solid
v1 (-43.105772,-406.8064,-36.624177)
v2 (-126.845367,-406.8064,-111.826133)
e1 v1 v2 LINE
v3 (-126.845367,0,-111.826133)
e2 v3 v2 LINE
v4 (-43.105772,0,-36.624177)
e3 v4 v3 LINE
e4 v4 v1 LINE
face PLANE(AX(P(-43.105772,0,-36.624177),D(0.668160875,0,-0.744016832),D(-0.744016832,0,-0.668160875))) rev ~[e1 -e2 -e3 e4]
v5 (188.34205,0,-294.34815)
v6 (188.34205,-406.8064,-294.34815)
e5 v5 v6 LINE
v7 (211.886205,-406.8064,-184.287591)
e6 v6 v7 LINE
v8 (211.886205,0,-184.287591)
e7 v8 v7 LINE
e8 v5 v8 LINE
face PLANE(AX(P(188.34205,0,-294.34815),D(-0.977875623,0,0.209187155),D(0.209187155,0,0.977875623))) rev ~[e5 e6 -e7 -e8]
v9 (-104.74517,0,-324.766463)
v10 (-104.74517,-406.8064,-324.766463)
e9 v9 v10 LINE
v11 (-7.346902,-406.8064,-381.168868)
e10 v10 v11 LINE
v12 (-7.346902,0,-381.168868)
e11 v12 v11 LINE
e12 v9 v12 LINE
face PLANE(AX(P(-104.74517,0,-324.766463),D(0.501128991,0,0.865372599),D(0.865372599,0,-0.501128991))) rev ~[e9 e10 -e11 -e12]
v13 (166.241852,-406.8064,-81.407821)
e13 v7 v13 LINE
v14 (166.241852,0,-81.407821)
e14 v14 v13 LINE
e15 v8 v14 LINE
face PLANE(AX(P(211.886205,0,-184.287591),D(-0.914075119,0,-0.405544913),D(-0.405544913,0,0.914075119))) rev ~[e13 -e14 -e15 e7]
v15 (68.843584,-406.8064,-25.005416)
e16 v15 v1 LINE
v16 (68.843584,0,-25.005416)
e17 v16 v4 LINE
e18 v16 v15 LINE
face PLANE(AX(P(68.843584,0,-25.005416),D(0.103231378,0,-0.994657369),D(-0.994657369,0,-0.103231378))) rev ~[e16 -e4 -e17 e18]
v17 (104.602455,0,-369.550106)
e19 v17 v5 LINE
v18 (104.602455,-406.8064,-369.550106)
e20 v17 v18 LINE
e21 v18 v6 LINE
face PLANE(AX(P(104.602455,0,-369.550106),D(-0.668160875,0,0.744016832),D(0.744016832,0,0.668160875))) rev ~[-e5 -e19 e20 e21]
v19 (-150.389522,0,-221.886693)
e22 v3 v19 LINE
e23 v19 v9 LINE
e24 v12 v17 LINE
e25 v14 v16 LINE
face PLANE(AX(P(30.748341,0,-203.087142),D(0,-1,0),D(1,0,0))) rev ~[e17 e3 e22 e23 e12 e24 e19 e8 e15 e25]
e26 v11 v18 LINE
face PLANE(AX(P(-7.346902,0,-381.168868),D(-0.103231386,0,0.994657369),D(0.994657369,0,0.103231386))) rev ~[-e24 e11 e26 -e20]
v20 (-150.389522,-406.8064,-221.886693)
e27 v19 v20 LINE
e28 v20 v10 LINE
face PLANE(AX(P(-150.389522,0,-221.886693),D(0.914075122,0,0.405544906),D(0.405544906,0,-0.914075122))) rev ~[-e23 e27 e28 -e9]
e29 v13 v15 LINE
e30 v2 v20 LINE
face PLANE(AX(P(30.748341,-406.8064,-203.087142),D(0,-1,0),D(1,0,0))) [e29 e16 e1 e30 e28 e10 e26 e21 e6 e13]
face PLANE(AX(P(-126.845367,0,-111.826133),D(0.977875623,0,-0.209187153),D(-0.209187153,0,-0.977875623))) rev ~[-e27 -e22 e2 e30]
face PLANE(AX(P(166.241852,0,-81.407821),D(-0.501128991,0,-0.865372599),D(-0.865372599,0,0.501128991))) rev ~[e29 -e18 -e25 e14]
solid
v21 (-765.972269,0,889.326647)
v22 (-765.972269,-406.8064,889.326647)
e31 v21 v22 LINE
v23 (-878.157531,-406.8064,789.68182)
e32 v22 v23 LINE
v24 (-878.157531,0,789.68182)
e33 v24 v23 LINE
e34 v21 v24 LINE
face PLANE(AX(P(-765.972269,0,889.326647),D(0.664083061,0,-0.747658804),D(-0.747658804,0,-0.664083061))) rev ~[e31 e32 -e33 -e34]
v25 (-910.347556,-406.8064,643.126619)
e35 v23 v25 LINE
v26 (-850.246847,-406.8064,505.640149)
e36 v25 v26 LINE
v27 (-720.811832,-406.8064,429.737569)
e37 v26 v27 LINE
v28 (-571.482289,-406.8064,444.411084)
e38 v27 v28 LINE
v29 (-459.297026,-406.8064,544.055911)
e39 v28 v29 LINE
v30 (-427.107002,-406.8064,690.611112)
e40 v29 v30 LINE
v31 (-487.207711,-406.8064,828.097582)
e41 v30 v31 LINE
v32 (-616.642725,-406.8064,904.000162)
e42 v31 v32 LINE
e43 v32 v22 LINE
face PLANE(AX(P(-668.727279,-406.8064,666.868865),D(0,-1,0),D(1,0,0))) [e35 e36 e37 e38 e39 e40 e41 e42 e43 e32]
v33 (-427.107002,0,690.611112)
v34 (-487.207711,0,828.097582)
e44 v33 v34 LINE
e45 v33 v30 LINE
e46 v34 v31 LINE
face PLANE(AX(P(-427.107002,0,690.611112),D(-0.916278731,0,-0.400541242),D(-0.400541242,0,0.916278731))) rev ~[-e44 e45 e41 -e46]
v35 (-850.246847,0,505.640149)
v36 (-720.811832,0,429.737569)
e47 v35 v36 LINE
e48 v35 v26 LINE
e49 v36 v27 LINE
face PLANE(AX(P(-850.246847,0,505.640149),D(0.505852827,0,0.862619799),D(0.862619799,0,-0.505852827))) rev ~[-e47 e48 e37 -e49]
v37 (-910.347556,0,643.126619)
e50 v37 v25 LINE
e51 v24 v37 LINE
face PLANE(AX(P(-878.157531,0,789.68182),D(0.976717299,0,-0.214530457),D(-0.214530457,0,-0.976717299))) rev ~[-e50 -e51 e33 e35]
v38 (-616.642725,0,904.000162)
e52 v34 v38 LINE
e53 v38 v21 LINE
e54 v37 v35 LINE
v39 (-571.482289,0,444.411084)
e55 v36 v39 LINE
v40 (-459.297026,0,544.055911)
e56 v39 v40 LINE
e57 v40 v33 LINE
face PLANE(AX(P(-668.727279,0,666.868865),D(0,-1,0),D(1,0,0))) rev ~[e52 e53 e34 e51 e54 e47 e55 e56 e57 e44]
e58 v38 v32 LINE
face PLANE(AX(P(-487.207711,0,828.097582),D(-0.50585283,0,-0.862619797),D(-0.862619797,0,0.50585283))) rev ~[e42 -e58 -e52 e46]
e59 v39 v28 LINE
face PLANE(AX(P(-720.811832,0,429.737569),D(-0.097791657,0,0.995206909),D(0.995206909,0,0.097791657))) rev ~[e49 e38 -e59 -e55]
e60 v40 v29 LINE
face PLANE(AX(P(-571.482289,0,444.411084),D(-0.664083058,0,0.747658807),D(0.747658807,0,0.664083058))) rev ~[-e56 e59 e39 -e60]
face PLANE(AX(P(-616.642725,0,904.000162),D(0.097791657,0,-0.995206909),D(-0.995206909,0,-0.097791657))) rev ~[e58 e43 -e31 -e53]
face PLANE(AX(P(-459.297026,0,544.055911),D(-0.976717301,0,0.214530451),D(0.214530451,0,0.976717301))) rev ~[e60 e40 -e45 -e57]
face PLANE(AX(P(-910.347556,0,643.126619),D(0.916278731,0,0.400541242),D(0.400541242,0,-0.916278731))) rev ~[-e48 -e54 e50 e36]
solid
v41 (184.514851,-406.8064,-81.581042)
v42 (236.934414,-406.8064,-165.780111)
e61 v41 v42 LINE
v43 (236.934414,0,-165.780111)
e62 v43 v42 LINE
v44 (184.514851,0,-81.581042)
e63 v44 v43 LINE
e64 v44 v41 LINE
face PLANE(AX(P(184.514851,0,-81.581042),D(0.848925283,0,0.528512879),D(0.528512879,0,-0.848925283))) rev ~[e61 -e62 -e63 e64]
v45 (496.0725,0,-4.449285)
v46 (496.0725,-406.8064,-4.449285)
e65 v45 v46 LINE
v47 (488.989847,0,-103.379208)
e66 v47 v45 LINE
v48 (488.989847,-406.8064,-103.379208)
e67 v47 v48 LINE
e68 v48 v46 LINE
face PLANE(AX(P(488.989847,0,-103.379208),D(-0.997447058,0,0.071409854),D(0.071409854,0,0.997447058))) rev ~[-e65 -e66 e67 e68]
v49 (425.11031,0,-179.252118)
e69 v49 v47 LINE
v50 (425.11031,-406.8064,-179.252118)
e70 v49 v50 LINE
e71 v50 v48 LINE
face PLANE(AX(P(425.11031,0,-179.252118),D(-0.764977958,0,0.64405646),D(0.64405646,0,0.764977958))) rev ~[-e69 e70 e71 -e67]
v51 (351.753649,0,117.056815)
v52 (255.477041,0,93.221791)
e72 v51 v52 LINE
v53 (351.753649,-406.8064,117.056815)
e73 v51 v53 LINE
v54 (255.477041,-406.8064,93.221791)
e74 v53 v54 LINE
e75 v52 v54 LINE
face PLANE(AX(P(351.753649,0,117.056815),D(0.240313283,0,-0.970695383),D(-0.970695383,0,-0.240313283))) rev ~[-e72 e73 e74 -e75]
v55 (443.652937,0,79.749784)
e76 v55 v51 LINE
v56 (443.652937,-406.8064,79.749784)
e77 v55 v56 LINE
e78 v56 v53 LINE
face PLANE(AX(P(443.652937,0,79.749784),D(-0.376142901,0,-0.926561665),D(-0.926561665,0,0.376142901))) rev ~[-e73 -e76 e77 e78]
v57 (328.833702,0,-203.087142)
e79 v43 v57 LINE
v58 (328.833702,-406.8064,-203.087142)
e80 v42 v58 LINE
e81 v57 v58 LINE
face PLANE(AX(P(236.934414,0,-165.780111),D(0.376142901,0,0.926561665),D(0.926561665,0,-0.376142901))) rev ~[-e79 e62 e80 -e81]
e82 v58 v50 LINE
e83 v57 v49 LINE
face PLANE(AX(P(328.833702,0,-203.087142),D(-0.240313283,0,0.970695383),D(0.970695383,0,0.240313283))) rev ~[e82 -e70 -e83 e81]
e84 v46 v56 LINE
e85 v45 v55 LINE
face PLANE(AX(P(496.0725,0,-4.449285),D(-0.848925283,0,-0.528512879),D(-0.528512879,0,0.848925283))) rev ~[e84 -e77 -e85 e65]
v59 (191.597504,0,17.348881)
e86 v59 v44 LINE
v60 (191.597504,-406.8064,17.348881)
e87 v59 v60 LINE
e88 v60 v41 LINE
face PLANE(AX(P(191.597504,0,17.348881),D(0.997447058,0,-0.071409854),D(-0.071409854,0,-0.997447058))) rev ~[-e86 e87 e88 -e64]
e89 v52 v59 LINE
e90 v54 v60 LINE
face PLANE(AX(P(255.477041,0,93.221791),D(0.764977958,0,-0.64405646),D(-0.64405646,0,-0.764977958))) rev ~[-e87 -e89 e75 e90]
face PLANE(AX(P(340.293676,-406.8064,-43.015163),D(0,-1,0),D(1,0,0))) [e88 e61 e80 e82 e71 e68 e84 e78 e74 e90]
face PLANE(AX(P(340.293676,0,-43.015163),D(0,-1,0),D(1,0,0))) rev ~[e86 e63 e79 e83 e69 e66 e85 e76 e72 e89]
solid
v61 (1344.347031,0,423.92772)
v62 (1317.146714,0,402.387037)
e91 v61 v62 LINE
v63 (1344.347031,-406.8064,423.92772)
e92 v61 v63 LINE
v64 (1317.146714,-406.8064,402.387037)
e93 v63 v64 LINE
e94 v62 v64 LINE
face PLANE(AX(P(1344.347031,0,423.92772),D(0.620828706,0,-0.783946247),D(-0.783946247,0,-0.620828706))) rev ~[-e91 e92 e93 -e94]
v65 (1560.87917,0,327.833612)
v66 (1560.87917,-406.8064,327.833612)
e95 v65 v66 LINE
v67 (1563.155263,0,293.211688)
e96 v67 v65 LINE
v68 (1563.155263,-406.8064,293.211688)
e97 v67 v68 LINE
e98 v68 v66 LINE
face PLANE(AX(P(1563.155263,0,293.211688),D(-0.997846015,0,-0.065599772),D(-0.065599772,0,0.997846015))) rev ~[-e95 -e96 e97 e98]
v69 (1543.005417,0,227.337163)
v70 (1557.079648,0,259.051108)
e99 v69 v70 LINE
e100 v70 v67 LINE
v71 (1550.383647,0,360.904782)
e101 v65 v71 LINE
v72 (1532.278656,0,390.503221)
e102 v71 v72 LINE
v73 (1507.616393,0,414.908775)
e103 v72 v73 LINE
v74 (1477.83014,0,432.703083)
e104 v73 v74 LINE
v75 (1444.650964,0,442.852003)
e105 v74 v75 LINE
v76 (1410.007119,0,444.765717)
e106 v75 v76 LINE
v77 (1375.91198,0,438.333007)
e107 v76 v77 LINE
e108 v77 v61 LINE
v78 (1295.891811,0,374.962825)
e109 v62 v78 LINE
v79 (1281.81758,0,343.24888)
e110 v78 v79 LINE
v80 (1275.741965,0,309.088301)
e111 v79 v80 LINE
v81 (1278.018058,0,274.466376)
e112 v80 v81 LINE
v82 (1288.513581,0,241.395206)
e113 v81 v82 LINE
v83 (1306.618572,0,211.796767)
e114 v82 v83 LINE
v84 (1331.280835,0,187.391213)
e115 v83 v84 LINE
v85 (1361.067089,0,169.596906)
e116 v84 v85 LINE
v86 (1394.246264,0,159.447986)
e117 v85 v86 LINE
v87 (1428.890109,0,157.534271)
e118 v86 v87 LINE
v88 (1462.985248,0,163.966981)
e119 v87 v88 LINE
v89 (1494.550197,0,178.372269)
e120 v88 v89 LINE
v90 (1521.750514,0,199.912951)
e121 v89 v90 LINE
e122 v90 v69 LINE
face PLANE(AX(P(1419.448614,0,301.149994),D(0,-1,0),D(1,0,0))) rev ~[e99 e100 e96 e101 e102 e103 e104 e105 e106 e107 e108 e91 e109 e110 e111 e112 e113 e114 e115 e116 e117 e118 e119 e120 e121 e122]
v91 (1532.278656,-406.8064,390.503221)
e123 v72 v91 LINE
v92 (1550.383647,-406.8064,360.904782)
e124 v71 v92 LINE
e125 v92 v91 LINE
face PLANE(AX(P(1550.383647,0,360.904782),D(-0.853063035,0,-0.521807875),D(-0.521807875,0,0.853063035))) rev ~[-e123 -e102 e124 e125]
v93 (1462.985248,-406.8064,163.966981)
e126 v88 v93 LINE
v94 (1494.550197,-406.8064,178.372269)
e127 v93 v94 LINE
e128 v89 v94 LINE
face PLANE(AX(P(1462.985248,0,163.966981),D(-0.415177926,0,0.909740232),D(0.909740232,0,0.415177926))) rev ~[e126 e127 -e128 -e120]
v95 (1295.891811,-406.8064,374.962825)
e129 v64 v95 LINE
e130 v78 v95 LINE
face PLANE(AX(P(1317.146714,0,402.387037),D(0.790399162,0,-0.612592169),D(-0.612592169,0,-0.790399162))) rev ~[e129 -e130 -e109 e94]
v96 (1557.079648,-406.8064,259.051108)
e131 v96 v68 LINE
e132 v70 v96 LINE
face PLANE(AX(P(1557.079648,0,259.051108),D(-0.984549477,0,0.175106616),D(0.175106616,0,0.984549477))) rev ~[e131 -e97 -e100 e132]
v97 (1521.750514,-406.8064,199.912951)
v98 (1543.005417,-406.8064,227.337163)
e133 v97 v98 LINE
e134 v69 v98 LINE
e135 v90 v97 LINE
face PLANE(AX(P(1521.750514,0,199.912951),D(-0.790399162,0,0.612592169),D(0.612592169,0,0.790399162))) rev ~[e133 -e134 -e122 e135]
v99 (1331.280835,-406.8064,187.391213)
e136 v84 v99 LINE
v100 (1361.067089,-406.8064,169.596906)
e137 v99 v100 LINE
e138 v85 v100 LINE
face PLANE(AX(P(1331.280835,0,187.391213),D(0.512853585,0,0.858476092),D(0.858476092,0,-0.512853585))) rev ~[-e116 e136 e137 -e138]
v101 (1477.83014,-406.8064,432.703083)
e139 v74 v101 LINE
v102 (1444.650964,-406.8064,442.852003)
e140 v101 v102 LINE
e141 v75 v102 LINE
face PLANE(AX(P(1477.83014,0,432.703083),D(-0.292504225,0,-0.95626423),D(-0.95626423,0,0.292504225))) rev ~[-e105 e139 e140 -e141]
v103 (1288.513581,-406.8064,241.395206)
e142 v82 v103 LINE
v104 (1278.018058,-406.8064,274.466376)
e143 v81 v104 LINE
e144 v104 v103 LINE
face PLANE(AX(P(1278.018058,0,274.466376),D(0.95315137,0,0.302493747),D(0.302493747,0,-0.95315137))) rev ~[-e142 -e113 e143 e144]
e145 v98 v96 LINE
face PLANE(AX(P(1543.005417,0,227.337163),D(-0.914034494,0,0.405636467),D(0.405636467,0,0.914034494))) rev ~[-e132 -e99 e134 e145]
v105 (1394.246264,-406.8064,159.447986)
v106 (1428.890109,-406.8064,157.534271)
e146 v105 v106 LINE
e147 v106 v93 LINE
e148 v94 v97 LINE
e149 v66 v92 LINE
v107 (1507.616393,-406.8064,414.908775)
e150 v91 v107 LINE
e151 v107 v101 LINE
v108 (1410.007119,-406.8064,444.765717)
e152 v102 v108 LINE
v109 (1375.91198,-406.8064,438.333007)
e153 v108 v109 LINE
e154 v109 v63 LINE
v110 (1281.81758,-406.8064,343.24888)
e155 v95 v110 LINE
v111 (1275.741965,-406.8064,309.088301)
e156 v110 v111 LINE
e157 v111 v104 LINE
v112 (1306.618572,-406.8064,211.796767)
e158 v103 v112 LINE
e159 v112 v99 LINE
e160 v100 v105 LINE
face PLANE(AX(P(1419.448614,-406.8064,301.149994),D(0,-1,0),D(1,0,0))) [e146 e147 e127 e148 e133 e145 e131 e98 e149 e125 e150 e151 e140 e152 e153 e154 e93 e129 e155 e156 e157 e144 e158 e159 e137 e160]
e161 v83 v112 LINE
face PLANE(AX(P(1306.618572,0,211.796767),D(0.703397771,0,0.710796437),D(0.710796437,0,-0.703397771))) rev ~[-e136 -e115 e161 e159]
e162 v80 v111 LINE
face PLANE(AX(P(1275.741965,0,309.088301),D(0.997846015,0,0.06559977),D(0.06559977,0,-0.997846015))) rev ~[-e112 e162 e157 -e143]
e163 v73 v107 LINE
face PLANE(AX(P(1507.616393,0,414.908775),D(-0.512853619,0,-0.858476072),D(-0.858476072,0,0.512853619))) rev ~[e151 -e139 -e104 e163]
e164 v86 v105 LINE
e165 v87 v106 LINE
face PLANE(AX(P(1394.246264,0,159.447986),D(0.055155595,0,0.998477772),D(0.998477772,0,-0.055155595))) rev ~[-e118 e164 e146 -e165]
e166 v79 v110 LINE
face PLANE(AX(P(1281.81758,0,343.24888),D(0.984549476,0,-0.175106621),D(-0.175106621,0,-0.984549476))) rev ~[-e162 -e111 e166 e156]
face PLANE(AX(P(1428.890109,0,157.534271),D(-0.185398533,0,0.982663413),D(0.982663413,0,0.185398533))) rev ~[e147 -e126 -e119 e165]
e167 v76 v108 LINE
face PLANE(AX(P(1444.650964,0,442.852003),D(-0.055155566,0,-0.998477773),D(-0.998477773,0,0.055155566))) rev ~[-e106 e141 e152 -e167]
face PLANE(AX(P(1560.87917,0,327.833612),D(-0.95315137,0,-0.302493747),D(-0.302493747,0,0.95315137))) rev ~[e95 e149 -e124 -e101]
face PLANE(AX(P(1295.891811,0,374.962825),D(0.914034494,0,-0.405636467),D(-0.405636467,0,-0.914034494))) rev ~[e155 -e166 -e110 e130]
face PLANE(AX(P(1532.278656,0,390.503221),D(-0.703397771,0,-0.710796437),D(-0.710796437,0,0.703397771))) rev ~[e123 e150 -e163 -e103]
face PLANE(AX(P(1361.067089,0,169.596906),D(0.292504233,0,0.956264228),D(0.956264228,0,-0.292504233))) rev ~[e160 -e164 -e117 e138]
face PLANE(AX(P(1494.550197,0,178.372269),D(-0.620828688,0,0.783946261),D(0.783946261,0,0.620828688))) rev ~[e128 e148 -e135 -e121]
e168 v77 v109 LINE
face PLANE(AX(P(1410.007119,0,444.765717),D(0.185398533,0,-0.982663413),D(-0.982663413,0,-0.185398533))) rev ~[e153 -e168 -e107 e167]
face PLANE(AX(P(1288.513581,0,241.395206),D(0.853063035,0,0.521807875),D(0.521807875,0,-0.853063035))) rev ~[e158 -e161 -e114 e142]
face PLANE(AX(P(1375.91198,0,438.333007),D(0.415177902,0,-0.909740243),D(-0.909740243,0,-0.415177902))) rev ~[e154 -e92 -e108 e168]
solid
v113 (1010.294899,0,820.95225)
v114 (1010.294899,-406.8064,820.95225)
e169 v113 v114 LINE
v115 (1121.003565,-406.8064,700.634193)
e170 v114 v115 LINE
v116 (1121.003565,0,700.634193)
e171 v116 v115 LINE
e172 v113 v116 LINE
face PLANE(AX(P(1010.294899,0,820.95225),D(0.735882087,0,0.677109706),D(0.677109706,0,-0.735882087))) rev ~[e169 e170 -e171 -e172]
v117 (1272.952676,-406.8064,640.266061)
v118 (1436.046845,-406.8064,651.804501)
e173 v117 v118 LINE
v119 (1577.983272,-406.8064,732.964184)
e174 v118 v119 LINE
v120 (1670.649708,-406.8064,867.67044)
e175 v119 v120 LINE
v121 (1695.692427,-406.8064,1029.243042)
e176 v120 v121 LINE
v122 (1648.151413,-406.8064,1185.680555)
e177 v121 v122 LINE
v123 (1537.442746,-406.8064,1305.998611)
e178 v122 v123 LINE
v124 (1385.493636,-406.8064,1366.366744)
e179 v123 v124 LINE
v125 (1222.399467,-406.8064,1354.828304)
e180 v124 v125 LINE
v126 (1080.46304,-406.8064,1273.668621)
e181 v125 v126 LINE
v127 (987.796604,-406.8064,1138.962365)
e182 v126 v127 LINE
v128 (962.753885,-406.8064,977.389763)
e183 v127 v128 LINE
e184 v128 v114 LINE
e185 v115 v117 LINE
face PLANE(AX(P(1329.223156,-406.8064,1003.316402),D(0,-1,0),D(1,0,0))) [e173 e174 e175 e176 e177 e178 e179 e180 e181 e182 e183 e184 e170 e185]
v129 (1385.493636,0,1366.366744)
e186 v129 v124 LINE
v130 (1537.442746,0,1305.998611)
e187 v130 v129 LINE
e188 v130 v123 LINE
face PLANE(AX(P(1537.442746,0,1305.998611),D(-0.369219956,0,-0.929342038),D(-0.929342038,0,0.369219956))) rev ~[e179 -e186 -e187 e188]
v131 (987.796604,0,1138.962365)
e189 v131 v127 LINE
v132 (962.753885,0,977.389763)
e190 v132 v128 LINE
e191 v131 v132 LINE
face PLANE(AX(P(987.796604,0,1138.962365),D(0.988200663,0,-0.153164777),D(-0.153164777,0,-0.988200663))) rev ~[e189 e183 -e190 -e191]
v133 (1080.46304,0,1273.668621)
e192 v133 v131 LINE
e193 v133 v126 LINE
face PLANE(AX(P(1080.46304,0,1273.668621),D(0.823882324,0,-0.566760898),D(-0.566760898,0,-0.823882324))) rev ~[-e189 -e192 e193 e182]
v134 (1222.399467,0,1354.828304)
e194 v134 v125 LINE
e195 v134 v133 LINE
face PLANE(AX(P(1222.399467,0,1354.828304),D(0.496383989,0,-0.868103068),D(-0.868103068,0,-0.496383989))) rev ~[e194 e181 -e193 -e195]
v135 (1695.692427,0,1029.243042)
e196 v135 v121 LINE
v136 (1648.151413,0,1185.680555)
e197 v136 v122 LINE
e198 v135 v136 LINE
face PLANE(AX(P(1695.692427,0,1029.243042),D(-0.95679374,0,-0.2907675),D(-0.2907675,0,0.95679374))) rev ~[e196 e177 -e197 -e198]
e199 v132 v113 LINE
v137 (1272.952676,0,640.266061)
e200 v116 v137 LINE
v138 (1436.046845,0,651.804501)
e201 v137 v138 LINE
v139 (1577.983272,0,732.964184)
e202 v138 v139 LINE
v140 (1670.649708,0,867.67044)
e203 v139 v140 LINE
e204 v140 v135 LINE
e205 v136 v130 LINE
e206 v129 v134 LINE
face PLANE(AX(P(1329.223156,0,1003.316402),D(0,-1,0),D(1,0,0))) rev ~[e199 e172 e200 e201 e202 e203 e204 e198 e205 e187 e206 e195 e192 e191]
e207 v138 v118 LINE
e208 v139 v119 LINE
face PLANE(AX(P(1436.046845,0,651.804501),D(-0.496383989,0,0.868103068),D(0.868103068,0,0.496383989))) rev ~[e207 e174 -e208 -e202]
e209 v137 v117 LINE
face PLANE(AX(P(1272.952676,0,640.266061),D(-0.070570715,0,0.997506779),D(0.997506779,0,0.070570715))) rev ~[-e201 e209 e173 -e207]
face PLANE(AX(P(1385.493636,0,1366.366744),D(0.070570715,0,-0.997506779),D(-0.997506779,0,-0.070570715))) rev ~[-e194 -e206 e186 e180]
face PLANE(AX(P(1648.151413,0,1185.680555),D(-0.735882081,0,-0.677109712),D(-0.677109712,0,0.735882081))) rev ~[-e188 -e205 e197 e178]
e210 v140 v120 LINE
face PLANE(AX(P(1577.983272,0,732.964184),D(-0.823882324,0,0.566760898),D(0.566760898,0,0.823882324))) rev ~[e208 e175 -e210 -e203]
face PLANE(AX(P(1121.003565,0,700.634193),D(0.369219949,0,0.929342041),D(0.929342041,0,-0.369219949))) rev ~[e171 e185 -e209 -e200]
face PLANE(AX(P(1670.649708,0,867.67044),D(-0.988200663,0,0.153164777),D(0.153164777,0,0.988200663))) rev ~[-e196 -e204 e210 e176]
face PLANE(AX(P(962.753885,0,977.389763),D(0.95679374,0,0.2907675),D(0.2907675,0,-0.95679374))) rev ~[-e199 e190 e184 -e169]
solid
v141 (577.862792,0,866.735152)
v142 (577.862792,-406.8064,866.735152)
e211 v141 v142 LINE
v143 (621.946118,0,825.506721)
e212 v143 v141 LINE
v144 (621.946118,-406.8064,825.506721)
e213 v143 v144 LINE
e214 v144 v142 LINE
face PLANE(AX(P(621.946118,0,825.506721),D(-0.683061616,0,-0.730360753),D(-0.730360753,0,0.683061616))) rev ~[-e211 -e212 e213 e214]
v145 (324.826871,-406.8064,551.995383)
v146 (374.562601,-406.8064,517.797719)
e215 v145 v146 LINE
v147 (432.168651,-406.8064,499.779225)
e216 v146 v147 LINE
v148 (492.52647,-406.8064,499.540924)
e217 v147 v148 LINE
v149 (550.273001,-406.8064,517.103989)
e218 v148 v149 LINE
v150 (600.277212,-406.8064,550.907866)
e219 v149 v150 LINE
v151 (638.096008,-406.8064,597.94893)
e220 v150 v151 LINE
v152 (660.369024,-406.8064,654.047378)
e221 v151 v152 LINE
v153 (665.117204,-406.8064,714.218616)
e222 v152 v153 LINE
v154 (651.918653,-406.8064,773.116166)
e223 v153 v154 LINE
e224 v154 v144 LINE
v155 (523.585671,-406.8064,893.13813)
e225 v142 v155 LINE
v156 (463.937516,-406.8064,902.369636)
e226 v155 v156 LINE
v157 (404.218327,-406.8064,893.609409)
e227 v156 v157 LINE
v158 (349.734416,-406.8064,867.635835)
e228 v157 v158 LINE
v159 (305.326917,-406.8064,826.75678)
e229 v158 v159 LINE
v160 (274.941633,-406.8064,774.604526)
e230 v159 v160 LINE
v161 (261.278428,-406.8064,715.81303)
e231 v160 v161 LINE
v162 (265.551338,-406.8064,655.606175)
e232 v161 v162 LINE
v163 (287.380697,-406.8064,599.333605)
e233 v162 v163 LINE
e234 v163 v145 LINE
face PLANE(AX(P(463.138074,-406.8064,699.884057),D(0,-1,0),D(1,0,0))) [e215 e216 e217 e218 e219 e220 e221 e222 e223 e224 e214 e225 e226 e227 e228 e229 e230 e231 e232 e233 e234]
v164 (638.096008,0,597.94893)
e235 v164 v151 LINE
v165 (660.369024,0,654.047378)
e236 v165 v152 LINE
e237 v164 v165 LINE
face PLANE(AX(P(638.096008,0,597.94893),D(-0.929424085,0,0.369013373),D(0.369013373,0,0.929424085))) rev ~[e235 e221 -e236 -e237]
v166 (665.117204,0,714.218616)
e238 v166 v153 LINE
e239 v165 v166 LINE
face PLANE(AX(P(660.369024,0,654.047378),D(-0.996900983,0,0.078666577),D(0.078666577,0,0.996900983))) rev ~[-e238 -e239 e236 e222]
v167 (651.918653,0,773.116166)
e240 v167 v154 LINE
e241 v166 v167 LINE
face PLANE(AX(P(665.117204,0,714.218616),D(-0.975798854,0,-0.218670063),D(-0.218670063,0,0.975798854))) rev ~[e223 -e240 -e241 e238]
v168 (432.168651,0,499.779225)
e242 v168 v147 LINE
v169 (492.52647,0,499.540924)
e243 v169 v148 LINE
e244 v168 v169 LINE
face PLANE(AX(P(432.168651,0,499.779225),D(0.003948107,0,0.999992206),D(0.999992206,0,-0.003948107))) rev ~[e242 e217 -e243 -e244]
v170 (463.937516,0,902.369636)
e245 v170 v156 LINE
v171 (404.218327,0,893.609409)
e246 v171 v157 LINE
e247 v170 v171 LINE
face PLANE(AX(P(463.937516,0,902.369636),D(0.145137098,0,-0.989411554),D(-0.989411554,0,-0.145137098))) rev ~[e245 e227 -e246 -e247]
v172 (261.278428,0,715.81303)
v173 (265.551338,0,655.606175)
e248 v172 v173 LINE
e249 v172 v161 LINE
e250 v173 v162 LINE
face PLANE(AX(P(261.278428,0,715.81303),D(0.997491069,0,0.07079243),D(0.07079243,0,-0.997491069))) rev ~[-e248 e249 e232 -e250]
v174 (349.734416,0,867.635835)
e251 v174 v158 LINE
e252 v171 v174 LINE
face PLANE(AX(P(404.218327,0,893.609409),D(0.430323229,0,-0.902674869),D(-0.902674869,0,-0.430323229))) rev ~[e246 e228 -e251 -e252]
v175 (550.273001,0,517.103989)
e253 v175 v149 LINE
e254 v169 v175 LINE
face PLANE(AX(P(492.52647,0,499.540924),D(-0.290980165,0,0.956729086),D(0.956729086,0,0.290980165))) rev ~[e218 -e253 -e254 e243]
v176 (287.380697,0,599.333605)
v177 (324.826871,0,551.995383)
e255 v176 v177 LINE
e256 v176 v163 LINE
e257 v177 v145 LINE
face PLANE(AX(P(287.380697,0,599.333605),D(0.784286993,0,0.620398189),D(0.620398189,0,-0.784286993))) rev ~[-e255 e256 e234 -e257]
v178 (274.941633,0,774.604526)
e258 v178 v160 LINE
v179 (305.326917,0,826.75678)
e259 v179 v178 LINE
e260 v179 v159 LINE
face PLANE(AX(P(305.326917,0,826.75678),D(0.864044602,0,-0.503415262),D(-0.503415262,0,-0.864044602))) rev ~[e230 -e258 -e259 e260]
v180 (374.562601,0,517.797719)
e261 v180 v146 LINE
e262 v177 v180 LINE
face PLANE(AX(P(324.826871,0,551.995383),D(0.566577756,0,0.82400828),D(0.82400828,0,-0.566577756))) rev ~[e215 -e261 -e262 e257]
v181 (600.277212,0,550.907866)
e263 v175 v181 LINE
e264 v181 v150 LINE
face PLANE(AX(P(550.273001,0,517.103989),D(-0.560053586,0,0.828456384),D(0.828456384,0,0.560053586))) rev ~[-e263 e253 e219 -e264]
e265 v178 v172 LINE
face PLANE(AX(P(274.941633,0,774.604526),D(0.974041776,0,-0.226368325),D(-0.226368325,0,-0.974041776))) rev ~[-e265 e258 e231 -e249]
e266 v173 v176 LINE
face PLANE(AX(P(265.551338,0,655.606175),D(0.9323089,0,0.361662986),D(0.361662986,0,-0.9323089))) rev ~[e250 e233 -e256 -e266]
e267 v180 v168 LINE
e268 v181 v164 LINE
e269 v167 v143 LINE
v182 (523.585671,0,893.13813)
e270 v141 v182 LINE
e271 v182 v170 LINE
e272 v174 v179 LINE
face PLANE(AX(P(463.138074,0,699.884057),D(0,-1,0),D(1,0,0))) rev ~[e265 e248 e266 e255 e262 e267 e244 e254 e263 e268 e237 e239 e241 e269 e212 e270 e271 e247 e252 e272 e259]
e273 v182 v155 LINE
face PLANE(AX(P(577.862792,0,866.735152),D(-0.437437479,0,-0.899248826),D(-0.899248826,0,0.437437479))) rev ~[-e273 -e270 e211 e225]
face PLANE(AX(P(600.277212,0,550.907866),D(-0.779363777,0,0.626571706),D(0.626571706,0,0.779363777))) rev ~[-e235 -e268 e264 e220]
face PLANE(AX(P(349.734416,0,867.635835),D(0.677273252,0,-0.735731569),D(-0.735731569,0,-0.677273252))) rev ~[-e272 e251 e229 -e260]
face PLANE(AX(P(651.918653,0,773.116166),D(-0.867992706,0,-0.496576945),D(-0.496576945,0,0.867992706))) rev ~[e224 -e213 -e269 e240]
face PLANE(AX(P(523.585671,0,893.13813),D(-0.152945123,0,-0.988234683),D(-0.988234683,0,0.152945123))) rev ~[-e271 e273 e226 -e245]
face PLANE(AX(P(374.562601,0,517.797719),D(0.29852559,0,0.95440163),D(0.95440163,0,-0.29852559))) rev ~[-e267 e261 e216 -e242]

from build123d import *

# Parameters (mm, degrees)
F1_DEPTH = 406.8064


with BuildPart() as f1:
    # F0 (on Front) → F1 (new body)
    with BuildSketch(Plane.XZ):
        Polygon((328.833702, -203.087142), (425.11031, -179.252118), (488.989847, -103.379208), (496.0725, -4.449285), (443.652937, 79.749784), (351.753649, 117.056815), (255.477041, 93.221791), (191.597504, 17.348881), (184.514851, -81.581042), (236.934414, -165.780111), align=None)
        Polygon((104.602455, -369.550106), (188.34205, -294.34815), (211.886205, -184.287591), (166.241852, -81.407821), (68.843584, -25.005416), (-43.105772, -36.624177), (-126.845367, -111.826133), (-150.389522, -221.886693), (-104.74517, -324.766463), (-7.346902, -381.168868), align=None)
        Polygon((-427.107002, 690.611112), (-487.207711, 828.097582), (-616.642725, 904.000162), (-765.972269, 889.326647), (-878.157531, 789.68182), (-910.347556, 643.126619), (-850.246847, 505.640149), (-720.811832, 429.737569), (-571.482289, 444.411084), (-459.297026, 544.055911), align=None)
        Polygon((1121.003565, 700.634193), (1272.952676, 640.266061), (1436.046845, 651.804501), (1577.983272, 732.964184), (1670.649708, 867.67044), (1695.692427, 1029.243042), (1648.151413, 1185.680555), (1537.442746, 1305.998611), (1385.493636, 1366.366744), (1222.399467, 1354.828304), (1080.46304, 1273.668621), (987.796604, 1138.962365), (962.753885, 977.389763), (1010.294899, 820.95225), align=None)
        Polygon((660.369024, 654.047378), (665.117204, 714.218616), (651.918653, 773.116166), (621.946118, 825.506721), (577.862792, 866.735152), (523.585671, 893.13813), (463.937516, 902.369636), (404.218327, 893.609409), (349.734416, 867.635835), (305.326917, 826.75678), (274.941633, 774.604526), (261.278428, 715.81303), (265.551338, 655.606175), (287.380697, 599.333605), (324.826871, 551.995383), (374.562601, 517.797719), (432.168651, 499.779225), (492.52647, 499.540924), (550.273001, 517.103989), (600.277212, 550.907866), (638.096008, 597.94893), align=None)
        Polygon((1394.246264, 159.447986), (1428.890109, 157.534271), (1462.985248, 163.966981), (1494.550197, 178.372269), (1521.750514, 199.912951), (1543.005417, 227.337163), (1557.079648, 259.051108), (1563.155263, 293.211688), (1560.87917, 327.833612), (1550.383647, 360.904782), (1532.278656, 390.503221), (1507.616393, 414.908775), (1477.83014, 432.703083), (1444.650964, 442.852003), (1410.007119, 444.765717), (1375.91198, 438.333007), (1344.347031, 423.92772), (1317.146714, 402.387037), (1295.891811, 374.962825), (1281.81758, 343.24888), (1275.741965, 309.088301), (1278.018058, 274.466376), (1288.513581, 241.395206), (1306.618572, 211.796767), (1331.280835, 187.391213), (1361.067089, 169.596906), align=None)
    extrude(amount=F1_DEPTH)


solid = f1.part
